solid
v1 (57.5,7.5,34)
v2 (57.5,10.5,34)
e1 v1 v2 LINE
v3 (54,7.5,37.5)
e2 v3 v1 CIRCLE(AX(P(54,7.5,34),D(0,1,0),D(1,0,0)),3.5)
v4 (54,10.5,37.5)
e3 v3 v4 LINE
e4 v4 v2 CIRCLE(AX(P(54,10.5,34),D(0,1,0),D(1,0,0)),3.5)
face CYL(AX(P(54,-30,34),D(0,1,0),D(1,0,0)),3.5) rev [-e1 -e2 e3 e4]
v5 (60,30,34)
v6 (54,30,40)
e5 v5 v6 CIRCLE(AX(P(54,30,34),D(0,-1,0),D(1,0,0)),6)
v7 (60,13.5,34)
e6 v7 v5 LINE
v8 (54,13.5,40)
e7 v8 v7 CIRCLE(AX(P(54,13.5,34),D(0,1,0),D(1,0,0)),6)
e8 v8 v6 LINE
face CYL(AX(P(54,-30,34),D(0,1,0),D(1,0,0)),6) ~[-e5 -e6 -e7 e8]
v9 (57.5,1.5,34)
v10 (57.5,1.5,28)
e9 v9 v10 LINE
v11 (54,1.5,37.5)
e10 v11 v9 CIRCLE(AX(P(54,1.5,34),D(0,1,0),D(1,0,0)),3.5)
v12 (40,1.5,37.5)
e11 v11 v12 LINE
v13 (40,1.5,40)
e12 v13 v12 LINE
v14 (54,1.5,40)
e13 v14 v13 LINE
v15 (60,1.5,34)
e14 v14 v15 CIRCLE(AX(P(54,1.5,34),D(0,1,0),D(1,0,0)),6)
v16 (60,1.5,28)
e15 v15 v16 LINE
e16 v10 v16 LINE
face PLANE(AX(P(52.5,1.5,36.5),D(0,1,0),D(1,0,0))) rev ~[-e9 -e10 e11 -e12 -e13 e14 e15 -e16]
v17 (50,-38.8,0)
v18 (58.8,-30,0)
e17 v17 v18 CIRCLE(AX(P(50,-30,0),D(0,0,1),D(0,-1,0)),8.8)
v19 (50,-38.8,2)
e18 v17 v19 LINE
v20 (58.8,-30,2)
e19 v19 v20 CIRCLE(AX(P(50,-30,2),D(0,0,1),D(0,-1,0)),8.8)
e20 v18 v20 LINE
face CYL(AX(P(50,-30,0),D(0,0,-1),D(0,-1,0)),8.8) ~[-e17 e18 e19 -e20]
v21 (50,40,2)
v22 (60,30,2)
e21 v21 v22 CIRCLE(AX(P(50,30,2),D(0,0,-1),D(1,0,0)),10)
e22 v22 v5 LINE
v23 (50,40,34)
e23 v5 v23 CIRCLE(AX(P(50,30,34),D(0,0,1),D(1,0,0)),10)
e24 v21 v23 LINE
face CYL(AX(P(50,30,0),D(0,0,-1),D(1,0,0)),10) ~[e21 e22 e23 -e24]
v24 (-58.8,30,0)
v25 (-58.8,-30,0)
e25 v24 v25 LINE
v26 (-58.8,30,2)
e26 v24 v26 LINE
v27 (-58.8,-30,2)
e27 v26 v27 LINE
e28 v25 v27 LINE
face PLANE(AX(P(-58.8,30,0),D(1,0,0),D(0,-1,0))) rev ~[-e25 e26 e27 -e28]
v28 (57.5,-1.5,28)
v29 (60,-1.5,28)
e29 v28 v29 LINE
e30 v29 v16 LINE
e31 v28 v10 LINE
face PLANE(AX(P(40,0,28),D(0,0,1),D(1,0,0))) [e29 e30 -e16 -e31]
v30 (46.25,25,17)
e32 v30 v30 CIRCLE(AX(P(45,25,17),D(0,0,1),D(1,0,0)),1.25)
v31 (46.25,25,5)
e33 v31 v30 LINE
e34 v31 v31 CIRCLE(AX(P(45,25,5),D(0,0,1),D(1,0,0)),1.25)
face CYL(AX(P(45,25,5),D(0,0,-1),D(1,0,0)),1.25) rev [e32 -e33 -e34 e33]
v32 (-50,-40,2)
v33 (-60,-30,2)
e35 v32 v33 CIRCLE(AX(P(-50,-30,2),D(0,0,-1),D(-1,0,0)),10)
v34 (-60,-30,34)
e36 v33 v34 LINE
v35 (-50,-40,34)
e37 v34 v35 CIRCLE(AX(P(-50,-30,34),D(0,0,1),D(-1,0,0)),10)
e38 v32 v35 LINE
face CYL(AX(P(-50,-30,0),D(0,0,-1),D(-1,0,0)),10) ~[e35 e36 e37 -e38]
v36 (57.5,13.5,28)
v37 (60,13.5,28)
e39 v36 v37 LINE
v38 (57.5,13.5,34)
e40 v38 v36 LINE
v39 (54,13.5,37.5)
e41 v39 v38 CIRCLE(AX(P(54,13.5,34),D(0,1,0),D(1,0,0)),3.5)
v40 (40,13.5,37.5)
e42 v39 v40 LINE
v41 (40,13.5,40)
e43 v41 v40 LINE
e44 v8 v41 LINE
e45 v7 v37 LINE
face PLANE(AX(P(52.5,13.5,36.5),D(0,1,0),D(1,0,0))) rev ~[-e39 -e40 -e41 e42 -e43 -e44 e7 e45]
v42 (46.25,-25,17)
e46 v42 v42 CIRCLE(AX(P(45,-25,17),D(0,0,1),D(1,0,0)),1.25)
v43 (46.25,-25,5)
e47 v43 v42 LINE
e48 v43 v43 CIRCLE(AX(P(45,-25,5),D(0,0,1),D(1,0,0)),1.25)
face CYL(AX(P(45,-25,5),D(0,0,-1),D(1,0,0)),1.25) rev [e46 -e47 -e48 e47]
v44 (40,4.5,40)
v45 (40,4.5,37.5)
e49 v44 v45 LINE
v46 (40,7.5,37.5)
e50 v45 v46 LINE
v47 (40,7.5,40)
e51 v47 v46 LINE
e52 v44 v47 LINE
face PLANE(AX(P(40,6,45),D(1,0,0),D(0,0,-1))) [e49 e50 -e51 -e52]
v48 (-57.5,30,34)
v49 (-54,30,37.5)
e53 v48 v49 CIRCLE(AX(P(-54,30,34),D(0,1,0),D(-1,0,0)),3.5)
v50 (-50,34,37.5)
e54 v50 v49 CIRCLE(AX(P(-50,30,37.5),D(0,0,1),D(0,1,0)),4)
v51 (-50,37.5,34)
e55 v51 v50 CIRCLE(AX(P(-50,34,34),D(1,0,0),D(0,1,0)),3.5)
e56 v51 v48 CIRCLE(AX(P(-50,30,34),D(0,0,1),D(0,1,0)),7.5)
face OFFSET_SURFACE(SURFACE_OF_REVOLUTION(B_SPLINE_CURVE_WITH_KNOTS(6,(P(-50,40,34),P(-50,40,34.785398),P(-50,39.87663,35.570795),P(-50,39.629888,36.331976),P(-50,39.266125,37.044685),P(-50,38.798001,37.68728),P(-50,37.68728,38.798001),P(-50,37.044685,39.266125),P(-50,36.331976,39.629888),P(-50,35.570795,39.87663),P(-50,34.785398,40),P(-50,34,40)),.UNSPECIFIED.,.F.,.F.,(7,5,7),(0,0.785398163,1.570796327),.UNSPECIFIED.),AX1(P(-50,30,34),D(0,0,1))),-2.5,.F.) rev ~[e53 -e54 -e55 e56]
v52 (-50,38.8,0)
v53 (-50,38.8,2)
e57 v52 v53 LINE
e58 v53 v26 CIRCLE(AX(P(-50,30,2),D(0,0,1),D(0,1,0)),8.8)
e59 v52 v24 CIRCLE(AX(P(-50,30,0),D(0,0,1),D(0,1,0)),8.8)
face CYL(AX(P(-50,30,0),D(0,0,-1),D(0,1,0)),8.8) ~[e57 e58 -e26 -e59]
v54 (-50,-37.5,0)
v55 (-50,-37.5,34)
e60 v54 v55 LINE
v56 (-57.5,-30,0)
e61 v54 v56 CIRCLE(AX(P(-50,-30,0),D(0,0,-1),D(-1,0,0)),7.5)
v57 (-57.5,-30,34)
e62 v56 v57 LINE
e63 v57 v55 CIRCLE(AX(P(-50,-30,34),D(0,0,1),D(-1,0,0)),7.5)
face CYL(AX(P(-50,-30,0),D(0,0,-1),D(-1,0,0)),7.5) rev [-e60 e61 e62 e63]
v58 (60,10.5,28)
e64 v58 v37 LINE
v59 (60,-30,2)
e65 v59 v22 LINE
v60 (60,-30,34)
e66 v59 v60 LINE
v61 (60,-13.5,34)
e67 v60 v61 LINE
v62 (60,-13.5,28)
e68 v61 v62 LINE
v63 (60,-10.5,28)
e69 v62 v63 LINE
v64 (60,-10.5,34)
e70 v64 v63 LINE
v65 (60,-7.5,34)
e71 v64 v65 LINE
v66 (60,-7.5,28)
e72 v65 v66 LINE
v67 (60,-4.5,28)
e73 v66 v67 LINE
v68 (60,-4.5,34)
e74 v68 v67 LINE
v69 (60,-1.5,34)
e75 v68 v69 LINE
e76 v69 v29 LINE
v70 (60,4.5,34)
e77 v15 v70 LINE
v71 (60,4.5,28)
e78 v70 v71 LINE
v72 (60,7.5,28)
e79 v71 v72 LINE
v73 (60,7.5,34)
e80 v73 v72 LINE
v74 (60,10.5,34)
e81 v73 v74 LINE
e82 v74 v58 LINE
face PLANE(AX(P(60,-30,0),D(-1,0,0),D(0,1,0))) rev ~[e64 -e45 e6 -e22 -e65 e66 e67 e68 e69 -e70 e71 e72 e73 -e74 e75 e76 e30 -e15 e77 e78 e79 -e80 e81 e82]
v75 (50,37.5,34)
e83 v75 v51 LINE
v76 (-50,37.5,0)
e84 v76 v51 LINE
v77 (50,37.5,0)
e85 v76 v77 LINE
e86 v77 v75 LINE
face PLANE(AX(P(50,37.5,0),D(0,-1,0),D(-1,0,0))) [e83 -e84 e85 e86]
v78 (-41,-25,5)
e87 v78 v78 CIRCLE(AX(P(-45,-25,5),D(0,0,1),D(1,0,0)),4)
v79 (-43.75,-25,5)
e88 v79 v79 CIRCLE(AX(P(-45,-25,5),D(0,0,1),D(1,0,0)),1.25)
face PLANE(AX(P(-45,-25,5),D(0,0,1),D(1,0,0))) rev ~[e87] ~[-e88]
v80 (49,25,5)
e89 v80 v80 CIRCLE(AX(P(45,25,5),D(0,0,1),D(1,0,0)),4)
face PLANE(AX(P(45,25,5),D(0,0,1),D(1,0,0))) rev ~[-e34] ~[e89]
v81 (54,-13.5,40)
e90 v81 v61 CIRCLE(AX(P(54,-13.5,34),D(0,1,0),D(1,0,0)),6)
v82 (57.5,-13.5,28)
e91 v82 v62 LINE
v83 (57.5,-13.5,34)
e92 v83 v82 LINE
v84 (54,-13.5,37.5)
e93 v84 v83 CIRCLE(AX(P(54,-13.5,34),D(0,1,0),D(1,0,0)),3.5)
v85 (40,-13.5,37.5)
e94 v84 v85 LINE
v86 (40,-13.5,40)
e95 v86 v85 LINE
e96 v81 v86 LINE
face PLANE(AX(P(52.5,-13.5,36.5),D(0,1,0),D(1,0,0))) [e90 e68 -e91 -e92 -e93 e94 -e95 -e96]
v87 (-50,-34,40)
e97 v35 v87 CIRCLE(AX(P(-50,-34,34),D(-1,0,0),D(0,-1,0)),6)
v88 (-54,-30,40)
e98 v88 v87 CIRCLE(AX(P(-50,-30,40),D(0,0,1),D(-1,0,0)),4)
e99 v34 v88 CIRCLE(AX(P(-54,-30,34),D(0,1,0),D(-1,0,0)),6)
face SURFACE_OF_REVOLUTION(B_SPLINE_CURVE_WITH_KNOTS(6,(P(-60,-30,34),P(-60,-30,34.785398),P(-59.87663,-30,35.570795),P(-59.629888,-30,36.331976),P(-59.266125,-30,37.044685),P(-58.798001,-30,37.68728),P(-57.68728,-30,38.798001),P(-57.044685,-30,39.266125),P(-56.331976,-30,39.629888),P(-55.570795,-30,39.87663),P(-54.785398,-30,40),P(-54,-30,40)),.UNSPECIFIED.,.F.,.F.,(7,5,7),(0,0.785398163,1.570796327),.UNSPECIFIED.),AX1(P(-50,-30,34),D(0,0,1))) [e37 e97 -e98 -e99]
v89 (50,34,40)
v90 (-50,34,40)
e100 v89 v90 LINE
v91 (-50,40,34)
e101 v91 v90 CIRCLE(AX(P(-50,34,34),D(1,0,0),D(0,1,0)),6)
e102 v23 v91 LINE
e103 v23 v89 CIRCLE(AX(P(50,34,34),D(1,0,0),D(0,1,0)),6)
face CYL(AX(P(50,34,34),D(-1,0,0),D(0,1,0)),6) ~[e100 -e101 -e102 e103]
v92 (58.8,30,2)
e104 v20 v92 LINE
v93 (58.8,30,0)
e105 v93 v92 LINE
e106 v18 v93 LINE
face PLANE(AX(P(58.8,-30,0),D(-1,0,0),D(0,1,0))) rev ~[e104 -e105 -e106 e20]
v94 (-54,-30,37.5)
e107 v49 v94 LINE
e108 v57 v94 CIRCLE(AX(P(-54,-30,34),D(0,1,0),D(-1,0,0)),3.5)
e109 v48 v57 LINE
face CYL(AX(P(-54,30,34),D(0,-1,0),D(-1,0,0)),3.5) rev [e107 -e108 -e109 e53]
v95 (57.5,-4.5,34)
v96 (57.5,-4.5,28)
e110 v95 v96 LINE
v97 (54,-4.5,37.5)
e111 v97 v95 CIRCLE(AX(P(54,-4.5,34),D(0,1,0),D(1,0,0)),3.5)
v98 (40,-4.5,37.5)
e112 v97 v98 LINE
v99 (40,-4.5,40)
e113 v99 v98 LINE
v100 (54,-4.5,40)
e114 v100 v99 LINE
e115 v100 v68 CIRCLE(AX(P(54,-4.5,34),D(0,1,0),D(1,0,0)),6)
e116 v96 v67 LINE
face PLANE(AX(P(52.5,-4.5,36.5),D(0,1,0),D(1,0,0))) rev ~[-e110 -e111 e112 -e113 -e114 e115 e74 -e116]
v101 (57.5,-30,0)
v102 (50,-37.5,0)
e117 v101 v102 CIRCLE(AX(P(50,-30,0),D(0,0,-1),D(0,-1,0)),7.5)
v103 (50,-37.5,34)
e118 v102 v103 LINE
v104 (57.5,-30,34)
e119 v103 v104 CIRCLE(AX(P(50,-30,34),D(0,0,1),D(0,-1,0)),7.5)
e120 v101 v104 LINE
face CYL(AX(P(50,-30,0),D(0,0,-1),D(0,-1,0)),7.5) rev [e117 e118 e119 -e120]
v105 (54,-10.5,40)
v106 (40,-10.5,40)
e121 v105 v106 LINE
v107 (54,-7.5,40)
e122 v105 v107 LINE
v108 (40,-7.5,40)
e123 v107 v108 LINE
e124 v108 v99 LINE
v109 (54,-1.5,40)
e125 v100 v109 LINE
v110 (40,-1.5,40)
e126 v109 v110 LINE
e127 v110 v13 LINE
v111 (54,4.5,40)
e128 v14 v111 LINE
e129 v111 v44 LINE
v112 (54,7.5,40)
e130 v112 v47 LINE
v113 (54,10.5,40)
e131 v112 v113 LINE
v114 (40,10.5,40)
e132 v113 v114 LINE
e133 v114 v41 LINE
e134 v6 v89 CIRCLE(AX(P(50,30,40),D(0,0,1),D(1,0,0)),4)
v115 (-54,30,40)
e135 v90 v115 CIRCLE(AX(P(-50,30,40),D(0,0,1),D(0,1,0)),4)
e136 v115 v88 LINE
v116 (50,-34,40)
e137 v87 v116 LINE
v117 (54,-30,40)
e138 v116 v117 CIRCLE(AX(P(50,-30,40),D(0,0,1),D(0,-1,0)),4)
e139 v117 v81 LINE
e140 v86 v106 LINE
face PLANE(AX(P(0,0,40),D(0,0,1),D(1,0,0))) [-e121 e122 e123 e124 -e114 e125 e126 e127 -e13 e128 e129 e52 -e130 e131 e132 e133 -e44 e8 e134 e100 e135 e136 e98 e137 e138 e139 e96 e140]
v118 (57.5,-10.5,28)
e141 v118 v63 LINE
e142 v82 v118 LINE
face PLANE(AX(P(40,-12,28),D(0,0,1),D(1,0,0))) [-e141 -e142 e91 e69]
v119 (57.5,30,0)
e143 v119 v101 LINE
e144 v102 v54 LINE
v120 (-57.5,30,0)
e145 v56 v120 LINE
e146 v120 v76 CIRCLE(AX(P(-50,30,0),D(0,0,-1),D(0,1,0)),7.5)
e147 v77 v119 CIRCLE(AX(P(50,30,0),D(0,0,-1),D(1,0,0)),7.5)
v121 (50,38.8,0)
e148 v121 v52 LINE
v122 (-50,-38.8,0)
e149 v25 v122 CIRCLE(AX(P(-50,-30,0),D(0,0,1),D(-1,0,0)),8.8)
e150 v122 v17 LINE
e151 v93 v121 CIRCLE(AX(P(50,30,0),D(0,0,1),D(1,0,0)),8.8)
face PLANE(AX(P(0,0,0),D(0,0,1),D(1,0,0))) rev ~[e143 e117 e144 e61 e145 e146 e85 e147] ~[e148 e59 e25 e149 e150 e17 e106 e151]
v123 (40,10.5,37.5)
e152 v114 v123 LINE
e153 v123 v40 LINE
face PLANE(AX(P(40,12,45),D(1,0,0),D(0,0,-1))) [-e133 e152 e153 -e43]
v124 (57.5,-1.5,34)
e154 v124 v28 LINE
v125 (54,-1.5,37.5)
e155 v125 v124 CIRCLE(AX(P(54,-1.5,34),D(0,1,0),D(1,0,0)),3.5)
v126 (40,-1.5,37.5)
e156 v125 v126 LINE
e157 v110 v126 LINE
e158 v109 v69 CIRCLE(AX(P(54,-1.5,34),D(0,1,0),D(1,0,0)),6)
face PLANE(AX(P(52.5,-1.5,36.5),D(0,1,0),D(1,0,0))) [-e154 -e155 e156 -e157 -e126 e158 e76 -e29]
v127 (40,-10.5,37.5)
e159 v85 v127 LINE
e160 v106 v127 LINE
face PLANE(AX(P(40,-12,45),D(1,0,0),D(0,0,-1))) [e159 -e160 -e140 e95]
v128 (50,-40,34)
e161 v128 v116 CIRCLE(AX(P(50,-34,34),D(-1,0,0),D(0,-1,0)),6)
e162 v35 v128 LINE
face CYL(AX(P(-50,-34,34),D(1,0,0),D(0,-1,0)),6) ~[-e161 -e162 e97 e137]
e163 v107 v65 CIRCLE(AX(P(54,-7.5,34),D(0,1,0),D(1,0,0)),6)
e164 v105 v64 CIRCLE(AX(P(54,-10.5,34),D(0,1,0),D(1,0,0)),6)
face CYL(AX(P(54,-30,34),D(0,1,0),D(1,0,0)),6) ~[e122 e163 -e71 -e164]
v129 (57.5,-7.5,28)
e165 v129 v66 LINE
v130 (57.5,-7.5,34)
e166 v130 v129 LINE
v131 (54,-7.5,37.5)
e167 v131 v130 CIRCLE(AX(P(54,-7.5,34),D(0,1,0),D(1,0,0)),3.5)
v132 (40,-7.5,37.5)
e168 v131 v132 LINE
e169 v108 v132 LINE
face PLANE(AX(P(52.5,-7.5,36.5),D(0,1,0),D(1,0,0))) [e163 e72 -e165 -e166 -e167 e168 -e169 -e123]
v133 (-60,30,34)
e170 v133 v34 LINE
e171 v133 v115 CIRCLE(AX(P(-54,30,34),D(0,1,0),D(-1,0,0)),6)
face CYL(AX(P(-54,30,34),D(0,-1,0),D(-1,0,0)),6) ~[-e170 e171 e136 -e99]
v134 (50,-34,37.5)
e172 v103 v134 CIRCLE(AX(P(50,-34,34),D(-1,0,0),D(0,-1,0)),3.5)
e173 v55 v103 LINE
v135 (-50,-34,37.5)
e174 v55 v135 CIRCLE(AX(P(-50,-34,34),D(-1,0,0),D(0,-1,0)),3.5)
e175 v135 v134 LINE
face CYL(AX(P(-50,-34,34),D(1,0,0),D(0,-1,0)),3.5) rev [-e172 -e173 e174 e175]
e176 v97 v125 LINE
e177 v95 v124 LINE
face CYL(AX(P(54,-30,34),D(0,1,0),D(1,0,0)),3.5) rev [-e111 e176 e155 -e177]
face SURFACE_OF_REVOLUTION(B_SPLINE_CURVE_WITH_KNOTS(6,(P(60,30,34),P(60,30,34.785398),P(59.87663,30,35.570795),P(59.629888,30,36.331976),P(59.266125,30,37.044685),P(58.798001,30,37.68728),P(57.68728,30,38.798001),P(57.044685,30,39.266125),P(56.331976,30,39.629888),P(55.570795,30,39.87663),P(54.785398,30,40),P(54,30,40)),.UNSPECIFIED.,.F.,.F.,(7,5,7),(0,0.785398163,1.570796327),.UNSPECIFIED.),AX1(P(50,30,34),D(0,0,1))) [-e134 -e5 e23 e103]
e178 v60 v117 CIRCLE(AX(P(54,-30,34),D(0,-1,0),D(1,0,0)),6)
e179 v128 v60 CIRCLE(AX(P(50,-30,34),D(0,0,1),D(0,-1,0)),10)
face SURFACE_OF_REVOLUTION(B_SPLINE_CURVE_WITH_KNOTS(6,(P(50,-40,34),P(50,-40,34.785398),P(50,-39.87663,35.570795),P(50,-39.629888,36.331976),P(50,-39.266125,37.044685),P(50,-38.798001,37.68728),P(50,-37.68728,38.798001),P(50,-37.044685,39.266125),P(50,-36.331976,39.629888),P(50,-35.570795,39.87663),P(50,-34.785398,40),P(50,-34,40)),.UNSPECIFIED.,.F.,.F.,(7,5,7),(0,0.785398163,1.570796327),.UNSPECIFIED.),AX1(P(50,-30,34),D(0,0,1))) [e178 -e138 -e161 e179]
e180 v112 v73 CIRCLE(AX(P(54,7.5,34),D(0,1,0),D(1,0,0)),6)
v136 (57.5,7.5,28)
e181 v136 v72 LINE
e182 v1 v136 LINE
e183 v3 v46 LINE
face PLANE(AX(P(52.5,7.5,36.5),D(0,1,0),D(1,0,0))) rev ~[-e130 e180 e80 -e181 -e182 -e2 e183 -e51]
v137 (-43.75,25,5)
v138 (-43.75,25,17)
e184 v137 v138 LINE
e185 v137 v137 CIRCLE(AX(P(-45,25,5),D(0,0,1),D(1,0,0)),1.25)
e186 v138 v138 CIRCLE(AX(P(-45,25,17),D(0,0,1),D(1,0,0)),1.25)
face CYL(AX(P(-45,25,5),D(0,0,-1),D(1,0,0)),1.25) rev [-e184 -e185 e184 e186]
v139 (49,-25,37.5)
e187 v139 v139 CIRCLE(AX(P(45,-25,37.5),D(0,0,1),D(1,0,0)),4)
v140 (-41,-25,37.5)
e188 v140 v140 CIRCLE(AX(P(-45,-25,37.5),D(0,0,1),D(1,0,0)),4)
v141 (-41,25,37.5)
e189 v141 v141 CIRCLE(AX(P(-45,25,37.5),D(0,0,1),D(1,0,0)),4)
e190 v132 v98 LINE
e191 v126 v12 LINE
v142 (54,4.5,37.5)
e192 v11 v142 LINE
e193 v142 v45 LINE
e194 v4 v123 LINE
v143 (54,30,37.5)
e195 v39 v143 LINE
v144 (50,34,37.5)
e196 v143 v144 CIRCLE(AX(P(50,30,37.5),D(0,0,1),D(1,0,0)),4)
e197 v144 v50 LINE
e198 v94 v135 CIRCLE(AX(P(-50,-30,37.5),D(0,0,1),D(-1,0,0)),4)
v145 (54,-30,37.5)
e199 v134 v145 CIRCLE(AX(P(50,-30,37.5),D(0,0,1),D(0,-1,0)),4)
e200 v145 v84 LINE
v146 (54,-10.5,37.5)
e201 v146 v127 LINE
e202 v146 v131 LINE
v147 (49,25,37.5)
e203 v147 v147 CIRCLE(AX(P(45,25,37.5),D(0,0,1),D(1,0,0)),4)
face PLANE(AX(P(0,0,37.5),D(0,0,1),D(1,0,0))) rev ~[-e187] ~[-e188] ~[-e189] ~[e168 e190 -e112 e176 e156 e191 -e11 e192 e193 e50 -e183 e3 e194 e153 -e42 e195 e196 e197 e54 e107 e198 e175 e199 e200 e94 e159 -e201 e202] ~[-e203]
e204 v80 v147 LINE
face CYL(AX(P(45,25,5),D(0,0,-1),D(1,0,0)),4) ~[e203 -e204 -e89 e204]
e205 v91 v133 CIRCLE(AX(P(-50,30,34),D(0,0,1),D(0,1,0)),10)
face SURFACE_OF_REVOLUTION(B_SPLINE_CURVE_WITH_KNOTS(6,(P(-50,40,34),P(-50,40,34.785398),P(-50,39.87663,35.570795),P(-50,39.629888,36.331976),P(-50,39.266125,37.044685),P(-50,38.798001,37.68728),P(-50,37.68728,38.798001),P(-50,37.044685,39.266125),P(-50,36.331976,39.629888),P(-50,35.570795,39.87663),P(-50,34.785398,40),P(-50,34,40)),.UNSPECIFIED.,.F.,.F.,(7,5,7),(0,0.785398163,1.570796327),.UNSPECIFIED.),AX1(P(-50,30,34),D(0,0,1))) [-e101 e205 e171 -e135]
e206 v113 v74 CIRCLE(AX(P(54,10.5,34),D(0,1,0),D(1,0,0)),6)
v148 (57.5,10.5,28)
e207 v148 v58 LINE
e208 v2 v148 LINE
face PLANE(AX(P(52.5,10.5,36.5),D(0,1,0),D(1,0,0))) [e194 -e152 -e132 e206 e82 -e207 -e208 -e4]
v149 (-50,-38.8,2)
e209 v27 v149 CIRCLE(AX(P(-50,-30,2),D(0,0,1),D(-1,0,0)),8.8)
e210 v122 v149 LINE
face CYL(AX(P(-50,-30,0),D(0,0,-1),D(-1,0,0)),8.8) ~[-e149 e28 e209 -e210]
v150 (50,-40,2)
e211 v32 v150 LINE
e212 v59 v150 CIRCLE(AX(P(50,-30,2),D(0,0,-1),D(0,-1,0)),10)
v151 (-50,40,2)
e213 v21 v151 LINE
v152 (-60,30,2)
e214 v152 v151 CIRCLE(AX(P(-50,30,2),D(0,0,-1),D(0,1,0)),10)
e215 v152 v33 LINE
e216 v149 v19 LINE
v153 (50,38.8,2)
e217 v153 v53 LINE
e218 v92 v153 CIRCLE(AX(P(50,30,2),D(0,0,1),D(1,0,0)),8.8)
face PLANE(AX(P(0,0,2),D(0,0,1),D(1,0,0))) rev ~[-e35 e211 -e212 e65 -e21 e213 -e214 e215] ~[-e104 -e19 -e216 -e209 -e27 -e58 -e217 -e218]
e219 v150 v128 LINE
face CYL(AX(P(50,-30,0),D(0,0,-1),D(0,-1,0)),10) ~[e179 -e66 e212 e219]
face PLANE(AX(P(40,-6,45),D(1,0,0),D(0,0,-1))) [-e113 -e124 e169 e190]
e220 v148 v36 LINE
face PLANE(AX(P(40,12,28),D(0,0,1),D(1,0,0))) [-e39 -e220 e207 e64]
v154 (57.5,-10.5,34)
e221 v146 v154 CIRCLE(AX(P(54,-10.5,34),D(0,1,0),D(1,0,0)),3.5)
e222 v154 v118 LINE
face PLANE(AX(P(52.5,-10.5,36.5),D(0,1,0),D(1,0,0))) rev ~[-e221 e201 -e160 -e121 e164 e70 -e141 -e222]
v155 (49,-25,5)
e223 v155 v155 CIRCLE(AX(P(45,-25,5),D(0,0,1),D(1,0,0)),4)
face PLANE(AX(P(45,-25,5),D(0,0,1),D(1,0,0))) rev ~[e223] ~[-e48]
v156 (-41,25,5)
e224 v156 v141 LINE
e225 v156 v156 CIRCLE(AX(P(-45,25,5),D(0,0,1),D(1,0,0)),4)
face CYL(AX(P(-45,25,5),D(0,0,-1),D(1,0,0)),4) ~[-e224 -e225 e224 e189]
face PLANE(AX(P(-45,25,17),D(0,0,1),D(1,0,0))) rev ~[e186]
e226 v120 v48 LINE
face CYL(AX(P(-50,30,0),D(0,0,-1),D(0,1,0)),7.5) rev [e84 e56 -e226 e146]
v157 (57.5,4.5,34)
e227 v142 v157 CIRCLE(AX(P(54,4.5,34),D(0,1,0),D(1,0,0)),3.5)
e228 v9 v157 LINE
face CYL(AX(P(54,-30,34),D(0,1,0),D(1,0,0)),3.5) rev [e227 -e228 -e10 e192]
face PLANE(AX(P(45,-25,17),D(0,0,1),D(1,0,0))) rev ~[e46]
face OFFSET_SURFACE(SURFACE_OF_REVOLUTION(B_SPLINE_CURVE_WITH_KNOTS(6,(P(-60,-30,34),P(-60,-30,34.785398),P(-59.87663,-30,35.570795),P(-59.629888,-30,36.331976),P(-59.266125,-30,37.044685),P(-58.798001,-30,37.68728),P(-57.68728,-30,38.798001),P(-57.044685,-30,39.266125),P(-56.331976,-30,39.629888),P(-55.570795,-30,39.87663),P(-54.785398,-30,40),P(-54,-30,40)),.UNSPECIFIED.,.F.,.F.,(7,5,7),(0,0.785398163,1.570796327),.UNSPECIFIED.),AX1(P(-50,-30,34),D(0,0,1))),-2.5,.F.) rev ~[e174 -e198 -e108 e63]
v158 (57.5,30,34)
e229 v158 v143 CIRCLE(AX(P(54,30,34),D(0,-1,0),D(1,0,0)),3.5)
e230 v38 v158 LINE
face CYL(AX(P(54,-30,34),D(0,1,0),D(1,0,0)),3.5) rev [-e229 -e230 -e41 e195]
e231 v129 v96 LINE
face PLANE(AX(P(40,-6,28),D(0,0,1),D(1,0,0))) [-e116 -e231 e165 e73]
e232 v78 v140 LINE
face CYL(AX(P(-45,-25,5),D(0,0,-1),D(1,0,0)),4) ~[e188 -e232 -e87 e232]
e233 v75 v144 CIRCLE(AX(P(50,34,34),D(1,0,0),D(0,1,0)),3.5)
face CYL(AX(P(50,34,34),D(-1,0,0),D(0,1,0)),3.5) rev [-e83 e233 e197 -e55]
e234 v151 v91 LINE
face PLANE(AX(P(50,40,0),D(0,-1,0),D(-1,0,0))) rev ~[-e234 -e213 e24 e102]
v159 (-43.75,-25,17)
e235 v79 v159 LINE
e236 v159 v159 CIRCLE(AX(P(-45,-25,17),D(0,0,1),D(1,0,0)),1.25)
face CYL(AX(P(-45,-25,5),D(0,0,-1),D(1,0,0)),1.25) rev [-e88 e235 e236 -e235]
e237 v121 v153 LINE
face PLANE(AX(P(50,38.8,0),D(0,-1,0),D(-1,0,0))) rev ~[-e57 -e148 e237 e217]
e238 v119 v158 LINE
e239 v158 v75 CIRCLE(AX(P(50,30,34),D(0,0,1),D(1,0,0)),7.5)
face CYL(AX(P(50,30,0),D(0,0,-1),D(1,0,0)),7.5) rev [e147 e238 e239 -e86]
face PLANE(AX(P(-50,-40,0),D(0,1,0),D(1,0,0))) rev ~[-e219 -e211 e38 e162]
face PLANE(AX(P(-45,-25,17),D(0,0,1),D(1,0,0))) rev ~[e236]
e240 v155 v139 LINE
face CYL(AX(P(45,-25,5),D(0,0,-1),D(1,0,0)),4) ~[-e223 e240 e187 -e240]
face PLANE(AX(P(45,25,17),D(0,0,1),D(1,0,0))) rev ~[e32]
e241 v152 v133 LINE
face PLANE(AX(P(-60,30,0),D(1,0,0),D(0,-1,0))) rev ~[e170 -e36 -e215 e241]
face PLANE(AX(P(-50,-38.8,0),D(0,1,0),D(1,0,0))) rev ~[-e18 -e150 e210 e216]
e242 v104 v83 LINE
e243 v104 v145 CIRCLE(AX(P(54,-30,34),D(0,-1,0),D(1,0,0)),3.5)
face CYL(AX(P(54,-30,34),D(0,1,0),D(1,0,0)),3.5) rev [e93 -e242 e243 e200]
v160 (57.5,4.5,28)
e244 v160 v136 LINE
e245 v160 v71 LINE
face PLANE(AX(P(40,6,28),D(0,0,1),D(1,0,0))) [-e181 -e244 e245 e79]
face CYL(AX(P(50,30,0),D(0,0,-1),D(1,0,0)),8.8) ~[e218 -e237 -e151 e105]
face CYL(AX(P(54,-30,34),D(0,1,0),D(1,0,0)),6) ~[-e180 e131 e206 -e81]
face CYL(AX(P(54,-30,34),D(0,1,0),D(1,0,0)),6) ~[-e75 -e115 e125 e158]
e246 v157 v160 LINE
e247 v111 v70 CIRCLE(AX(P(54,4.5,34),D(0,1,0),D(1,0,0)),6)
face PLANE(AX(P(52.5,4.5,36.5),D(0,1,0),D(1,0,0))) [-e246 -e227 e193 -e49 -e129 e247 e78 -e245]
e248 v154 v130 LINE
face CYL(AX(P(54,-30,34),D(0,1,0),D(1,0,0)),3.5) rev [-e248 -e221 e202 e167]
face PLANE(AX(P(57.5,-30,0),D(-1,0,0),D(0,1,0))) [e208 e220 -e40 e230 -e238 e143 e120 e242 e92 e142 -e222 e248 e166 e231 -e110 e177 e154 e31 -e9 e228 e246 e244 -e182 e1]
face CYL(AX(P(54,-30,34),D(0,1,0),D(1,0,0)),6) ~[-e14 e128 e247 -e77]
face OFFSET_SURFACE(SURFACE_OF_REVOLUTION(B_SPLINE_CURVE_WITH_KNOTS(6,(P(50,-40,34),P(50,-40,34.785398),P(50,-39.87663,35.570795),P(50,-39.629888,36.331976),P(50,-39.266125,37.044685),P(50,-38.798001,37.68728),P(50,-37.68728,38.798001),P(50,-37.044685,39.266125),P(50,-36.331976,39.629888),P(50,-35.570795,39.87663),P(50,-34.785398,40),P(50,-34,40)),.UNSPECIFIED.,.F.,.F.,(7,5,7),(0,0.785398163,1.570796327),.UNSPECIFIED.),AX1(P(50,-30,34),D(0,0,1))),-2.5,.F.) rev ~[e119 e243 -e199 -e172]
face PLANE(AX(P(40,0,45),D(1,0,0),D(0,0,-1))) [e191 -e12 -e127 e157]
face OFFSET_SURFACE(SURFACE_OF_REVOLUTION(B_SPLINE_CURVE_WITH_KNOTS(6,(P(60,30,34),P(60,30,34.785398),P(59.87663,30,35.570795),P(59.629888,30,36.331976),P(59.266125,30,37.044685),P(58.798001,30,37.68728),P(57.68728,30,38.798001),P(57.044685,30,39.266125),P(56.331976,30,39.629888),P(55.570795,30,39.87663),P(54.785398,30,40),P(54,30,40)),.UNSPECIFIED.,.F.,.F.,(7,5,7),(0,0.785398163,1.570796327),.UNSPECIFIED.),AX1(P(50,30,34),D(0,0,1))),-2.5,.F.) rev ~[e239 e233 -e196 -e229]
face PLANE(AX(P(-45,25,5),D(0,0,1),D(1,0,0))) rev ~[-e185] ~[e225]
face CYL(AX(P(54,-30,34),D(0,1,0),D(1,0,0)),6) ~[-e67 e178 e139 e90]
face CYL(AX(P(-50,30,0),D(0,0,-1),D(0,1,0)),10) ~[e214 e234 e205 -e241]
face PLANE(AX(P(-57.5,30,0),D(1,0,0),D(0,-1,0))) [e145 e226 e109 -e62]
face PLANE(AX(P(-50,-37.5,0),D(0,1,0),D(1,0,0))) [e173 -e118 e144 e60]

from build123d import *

# Parameters (mm, degrees)
EXTRUDE_1_DEPTH        = 40
FILLET_1_R             = 6
SHELL_1_T              = -2.5
CUT_EXTRUDE_1_DEPTH    = 2
SKETCH_5_W             = 25
SKETCH_5_H             = 17
CUT_EXTRUDE_4_DEPTH    = 1.5
PATTERN_LINEAR_1_COUNT = 5
PATTERN_LINEAR_1_PITCH = 6
SKETCH_6_R             = 4
EXTRUDE_2_DEPTH        = 32.5
SKETCH_7_R             = 1.25
CUT_EXTRUDE_5_DEPTH    = 12


with BuildPart() as part:
    # 草图1 → 凸台-拉伸1 (new body)
    with BuildSketch(Plane.XY):
        with BuildLine():
            Line((-50, -40), (50, -40))
            ThreePointArc((50, -40), (57.071067812, -37.071067812), (60, -30))
            Line((60, -30), (60, 30))
            ThreePointArc((60, 30), (57.071067812, 37.071067812), (50, 40))
            Line((50, 40), (-50, 40))
            ThreePointArc((-50, 40), (-57.071067812, 37.071067812), (-60, 30))
            Line((-60, 30), (-60, -30))
            ThreePointArc((-60, -30), (-57.071067812, -37.071067812), (-50, -40))
        make_face()
    extrude(amount=EXTRUDE_1_DEPTH)

    # 圆角1
    fillet_1_edges = [part.edges().sort_by_distance(p)[0] for p in [
        (57.071067812, -37.071067812, 40),
        (60, 0, 40),
        (57.071067812, 37.071067812, 40),
        (0, 40, 40),
        (-57.071067812, 37.071067812, 40),
        (-60, 0, 40),
        (-57.071067812, -37.071067812, 40),
        (0, -40, 40),
    ]]
    fillet(fillet_1_edges, radius=FILLET_1_R)

    # 抽壳1
    shell_1_openings = [part.faces().sort_by_distance(p)[0] for p in [
        (0, 0, 0),
    ]]
    offset(amount=SHELL_1_T, openings=shell_1_openings, kind=Kind.INTERSECTION)

    # 草图2 → 切除-拉伸1 (cut)
    with BuildSketch(Plane.XY):
        with BuildLine():
            Line((-50, -45), (50, -45))
            ThreePointArc((50, -45), (60.606601718, -40.606601718), (65, -30))
            Line((65, -30), (65, 30))
            ThreePointArc((65, 30), (60.606601718, 40.606601718), (50, 45))
            Line((50, 45), (-50, 45))
            ThreePointArc((-50, 45), (-60.606601718, 40.606601718), (-65, 30))
            Line((-65, 30), (-65, -30))
            ThreePointArc((-65, -30), (-60.606601718, -40.606601718), (-50, -45))
        make_face()
        with BuildLine():
            Line((-50, -38.8), (50, -38.8))
            ThreePointArc((50, -38.8), (56.222539674, -36.222539674), (58.8, -30))
            Line((58.8, -30), (58.8, 30))
            ThreePointArc((58.8, 30), (56.222539674, 36.222539674), (50, 38.8))
            Line((50, 38.8), (-50, 38.8))
            ThreePointArc((-50, 38.8), (-56.222539674, 36.222539674), (-58.8, 30))
            Line((-58.8, 30), (-58.8, -30))
            ThreePointArc((-58.8, -30), (-56.222539674, -36.222539674), (-50, -38.8))
        make_face(mode=Mode.SUBTRACT)
    extrude(amount=CUT_EXTRUDE_1_DEPTH, mode=Mode.SUBTRACT)

    # 草图5 → 切除-拉伸4 (cut, symmetric)
    with BuildSketch(Plane(origin=(0, -12, 0), x_dir=(1, 0, 0), z_dir=(0, 1, 0))):
        with Locations((52.5, -36.5)):
            Rectangle(SKETCH_5_W, SKETCH_5_H)
    cut_extrude_4 = extrude(amount=CUT_EXTRUDE_4_DEPTH, both=True, mode=Mode.SUBTRACT)

    # 阵列(线性)1: 切除-拉伸4 ×5
    with Locations(*[(0, i * PATTERN_LINEAR_1_PITCH, 0) for i in range(1, PATTERN_LINEAR_1_COUNT)]):
        add(cut_extrude_4, mode=Mode.SUBTRACT)

    # 草图6 → 凸台-拉伸2 (add)
    with BuildSketch(Plane.XY.offset(5)):
        with Locations((45, 25)):
            Circle(SKETCH_6_R)
        with Locations((45, -25)):
            Circle(SKETCH_6_R)
        with Locations((-45, 25)):
            Circle(SKETCH_6_R)
        with Locations((-45, -25)):
            Circle(SKETCH_6_R)
    extrude(amount=EXTRUDE_2_DEPTH)

    # 草图7 → 切除-拉伸5 (cut)
    with BuildSketch(Plane.XY.offset(5)):
        with Locations((45, 25)):
            Circle(SKETCH_7_R)
        with Locations((45, -25)):
            Circle(SKETCH_7_R)
        with Locations((-45, 25)):
            Circle(SKETCH_7_R)
        with Locations((-45, -25)):
            Circle(SKETCH_7_R)
    extrude(amount=CUT_EXTRUDE_5_DEPTH, mode=Mode.SUBTRACT)


solid = part.part
